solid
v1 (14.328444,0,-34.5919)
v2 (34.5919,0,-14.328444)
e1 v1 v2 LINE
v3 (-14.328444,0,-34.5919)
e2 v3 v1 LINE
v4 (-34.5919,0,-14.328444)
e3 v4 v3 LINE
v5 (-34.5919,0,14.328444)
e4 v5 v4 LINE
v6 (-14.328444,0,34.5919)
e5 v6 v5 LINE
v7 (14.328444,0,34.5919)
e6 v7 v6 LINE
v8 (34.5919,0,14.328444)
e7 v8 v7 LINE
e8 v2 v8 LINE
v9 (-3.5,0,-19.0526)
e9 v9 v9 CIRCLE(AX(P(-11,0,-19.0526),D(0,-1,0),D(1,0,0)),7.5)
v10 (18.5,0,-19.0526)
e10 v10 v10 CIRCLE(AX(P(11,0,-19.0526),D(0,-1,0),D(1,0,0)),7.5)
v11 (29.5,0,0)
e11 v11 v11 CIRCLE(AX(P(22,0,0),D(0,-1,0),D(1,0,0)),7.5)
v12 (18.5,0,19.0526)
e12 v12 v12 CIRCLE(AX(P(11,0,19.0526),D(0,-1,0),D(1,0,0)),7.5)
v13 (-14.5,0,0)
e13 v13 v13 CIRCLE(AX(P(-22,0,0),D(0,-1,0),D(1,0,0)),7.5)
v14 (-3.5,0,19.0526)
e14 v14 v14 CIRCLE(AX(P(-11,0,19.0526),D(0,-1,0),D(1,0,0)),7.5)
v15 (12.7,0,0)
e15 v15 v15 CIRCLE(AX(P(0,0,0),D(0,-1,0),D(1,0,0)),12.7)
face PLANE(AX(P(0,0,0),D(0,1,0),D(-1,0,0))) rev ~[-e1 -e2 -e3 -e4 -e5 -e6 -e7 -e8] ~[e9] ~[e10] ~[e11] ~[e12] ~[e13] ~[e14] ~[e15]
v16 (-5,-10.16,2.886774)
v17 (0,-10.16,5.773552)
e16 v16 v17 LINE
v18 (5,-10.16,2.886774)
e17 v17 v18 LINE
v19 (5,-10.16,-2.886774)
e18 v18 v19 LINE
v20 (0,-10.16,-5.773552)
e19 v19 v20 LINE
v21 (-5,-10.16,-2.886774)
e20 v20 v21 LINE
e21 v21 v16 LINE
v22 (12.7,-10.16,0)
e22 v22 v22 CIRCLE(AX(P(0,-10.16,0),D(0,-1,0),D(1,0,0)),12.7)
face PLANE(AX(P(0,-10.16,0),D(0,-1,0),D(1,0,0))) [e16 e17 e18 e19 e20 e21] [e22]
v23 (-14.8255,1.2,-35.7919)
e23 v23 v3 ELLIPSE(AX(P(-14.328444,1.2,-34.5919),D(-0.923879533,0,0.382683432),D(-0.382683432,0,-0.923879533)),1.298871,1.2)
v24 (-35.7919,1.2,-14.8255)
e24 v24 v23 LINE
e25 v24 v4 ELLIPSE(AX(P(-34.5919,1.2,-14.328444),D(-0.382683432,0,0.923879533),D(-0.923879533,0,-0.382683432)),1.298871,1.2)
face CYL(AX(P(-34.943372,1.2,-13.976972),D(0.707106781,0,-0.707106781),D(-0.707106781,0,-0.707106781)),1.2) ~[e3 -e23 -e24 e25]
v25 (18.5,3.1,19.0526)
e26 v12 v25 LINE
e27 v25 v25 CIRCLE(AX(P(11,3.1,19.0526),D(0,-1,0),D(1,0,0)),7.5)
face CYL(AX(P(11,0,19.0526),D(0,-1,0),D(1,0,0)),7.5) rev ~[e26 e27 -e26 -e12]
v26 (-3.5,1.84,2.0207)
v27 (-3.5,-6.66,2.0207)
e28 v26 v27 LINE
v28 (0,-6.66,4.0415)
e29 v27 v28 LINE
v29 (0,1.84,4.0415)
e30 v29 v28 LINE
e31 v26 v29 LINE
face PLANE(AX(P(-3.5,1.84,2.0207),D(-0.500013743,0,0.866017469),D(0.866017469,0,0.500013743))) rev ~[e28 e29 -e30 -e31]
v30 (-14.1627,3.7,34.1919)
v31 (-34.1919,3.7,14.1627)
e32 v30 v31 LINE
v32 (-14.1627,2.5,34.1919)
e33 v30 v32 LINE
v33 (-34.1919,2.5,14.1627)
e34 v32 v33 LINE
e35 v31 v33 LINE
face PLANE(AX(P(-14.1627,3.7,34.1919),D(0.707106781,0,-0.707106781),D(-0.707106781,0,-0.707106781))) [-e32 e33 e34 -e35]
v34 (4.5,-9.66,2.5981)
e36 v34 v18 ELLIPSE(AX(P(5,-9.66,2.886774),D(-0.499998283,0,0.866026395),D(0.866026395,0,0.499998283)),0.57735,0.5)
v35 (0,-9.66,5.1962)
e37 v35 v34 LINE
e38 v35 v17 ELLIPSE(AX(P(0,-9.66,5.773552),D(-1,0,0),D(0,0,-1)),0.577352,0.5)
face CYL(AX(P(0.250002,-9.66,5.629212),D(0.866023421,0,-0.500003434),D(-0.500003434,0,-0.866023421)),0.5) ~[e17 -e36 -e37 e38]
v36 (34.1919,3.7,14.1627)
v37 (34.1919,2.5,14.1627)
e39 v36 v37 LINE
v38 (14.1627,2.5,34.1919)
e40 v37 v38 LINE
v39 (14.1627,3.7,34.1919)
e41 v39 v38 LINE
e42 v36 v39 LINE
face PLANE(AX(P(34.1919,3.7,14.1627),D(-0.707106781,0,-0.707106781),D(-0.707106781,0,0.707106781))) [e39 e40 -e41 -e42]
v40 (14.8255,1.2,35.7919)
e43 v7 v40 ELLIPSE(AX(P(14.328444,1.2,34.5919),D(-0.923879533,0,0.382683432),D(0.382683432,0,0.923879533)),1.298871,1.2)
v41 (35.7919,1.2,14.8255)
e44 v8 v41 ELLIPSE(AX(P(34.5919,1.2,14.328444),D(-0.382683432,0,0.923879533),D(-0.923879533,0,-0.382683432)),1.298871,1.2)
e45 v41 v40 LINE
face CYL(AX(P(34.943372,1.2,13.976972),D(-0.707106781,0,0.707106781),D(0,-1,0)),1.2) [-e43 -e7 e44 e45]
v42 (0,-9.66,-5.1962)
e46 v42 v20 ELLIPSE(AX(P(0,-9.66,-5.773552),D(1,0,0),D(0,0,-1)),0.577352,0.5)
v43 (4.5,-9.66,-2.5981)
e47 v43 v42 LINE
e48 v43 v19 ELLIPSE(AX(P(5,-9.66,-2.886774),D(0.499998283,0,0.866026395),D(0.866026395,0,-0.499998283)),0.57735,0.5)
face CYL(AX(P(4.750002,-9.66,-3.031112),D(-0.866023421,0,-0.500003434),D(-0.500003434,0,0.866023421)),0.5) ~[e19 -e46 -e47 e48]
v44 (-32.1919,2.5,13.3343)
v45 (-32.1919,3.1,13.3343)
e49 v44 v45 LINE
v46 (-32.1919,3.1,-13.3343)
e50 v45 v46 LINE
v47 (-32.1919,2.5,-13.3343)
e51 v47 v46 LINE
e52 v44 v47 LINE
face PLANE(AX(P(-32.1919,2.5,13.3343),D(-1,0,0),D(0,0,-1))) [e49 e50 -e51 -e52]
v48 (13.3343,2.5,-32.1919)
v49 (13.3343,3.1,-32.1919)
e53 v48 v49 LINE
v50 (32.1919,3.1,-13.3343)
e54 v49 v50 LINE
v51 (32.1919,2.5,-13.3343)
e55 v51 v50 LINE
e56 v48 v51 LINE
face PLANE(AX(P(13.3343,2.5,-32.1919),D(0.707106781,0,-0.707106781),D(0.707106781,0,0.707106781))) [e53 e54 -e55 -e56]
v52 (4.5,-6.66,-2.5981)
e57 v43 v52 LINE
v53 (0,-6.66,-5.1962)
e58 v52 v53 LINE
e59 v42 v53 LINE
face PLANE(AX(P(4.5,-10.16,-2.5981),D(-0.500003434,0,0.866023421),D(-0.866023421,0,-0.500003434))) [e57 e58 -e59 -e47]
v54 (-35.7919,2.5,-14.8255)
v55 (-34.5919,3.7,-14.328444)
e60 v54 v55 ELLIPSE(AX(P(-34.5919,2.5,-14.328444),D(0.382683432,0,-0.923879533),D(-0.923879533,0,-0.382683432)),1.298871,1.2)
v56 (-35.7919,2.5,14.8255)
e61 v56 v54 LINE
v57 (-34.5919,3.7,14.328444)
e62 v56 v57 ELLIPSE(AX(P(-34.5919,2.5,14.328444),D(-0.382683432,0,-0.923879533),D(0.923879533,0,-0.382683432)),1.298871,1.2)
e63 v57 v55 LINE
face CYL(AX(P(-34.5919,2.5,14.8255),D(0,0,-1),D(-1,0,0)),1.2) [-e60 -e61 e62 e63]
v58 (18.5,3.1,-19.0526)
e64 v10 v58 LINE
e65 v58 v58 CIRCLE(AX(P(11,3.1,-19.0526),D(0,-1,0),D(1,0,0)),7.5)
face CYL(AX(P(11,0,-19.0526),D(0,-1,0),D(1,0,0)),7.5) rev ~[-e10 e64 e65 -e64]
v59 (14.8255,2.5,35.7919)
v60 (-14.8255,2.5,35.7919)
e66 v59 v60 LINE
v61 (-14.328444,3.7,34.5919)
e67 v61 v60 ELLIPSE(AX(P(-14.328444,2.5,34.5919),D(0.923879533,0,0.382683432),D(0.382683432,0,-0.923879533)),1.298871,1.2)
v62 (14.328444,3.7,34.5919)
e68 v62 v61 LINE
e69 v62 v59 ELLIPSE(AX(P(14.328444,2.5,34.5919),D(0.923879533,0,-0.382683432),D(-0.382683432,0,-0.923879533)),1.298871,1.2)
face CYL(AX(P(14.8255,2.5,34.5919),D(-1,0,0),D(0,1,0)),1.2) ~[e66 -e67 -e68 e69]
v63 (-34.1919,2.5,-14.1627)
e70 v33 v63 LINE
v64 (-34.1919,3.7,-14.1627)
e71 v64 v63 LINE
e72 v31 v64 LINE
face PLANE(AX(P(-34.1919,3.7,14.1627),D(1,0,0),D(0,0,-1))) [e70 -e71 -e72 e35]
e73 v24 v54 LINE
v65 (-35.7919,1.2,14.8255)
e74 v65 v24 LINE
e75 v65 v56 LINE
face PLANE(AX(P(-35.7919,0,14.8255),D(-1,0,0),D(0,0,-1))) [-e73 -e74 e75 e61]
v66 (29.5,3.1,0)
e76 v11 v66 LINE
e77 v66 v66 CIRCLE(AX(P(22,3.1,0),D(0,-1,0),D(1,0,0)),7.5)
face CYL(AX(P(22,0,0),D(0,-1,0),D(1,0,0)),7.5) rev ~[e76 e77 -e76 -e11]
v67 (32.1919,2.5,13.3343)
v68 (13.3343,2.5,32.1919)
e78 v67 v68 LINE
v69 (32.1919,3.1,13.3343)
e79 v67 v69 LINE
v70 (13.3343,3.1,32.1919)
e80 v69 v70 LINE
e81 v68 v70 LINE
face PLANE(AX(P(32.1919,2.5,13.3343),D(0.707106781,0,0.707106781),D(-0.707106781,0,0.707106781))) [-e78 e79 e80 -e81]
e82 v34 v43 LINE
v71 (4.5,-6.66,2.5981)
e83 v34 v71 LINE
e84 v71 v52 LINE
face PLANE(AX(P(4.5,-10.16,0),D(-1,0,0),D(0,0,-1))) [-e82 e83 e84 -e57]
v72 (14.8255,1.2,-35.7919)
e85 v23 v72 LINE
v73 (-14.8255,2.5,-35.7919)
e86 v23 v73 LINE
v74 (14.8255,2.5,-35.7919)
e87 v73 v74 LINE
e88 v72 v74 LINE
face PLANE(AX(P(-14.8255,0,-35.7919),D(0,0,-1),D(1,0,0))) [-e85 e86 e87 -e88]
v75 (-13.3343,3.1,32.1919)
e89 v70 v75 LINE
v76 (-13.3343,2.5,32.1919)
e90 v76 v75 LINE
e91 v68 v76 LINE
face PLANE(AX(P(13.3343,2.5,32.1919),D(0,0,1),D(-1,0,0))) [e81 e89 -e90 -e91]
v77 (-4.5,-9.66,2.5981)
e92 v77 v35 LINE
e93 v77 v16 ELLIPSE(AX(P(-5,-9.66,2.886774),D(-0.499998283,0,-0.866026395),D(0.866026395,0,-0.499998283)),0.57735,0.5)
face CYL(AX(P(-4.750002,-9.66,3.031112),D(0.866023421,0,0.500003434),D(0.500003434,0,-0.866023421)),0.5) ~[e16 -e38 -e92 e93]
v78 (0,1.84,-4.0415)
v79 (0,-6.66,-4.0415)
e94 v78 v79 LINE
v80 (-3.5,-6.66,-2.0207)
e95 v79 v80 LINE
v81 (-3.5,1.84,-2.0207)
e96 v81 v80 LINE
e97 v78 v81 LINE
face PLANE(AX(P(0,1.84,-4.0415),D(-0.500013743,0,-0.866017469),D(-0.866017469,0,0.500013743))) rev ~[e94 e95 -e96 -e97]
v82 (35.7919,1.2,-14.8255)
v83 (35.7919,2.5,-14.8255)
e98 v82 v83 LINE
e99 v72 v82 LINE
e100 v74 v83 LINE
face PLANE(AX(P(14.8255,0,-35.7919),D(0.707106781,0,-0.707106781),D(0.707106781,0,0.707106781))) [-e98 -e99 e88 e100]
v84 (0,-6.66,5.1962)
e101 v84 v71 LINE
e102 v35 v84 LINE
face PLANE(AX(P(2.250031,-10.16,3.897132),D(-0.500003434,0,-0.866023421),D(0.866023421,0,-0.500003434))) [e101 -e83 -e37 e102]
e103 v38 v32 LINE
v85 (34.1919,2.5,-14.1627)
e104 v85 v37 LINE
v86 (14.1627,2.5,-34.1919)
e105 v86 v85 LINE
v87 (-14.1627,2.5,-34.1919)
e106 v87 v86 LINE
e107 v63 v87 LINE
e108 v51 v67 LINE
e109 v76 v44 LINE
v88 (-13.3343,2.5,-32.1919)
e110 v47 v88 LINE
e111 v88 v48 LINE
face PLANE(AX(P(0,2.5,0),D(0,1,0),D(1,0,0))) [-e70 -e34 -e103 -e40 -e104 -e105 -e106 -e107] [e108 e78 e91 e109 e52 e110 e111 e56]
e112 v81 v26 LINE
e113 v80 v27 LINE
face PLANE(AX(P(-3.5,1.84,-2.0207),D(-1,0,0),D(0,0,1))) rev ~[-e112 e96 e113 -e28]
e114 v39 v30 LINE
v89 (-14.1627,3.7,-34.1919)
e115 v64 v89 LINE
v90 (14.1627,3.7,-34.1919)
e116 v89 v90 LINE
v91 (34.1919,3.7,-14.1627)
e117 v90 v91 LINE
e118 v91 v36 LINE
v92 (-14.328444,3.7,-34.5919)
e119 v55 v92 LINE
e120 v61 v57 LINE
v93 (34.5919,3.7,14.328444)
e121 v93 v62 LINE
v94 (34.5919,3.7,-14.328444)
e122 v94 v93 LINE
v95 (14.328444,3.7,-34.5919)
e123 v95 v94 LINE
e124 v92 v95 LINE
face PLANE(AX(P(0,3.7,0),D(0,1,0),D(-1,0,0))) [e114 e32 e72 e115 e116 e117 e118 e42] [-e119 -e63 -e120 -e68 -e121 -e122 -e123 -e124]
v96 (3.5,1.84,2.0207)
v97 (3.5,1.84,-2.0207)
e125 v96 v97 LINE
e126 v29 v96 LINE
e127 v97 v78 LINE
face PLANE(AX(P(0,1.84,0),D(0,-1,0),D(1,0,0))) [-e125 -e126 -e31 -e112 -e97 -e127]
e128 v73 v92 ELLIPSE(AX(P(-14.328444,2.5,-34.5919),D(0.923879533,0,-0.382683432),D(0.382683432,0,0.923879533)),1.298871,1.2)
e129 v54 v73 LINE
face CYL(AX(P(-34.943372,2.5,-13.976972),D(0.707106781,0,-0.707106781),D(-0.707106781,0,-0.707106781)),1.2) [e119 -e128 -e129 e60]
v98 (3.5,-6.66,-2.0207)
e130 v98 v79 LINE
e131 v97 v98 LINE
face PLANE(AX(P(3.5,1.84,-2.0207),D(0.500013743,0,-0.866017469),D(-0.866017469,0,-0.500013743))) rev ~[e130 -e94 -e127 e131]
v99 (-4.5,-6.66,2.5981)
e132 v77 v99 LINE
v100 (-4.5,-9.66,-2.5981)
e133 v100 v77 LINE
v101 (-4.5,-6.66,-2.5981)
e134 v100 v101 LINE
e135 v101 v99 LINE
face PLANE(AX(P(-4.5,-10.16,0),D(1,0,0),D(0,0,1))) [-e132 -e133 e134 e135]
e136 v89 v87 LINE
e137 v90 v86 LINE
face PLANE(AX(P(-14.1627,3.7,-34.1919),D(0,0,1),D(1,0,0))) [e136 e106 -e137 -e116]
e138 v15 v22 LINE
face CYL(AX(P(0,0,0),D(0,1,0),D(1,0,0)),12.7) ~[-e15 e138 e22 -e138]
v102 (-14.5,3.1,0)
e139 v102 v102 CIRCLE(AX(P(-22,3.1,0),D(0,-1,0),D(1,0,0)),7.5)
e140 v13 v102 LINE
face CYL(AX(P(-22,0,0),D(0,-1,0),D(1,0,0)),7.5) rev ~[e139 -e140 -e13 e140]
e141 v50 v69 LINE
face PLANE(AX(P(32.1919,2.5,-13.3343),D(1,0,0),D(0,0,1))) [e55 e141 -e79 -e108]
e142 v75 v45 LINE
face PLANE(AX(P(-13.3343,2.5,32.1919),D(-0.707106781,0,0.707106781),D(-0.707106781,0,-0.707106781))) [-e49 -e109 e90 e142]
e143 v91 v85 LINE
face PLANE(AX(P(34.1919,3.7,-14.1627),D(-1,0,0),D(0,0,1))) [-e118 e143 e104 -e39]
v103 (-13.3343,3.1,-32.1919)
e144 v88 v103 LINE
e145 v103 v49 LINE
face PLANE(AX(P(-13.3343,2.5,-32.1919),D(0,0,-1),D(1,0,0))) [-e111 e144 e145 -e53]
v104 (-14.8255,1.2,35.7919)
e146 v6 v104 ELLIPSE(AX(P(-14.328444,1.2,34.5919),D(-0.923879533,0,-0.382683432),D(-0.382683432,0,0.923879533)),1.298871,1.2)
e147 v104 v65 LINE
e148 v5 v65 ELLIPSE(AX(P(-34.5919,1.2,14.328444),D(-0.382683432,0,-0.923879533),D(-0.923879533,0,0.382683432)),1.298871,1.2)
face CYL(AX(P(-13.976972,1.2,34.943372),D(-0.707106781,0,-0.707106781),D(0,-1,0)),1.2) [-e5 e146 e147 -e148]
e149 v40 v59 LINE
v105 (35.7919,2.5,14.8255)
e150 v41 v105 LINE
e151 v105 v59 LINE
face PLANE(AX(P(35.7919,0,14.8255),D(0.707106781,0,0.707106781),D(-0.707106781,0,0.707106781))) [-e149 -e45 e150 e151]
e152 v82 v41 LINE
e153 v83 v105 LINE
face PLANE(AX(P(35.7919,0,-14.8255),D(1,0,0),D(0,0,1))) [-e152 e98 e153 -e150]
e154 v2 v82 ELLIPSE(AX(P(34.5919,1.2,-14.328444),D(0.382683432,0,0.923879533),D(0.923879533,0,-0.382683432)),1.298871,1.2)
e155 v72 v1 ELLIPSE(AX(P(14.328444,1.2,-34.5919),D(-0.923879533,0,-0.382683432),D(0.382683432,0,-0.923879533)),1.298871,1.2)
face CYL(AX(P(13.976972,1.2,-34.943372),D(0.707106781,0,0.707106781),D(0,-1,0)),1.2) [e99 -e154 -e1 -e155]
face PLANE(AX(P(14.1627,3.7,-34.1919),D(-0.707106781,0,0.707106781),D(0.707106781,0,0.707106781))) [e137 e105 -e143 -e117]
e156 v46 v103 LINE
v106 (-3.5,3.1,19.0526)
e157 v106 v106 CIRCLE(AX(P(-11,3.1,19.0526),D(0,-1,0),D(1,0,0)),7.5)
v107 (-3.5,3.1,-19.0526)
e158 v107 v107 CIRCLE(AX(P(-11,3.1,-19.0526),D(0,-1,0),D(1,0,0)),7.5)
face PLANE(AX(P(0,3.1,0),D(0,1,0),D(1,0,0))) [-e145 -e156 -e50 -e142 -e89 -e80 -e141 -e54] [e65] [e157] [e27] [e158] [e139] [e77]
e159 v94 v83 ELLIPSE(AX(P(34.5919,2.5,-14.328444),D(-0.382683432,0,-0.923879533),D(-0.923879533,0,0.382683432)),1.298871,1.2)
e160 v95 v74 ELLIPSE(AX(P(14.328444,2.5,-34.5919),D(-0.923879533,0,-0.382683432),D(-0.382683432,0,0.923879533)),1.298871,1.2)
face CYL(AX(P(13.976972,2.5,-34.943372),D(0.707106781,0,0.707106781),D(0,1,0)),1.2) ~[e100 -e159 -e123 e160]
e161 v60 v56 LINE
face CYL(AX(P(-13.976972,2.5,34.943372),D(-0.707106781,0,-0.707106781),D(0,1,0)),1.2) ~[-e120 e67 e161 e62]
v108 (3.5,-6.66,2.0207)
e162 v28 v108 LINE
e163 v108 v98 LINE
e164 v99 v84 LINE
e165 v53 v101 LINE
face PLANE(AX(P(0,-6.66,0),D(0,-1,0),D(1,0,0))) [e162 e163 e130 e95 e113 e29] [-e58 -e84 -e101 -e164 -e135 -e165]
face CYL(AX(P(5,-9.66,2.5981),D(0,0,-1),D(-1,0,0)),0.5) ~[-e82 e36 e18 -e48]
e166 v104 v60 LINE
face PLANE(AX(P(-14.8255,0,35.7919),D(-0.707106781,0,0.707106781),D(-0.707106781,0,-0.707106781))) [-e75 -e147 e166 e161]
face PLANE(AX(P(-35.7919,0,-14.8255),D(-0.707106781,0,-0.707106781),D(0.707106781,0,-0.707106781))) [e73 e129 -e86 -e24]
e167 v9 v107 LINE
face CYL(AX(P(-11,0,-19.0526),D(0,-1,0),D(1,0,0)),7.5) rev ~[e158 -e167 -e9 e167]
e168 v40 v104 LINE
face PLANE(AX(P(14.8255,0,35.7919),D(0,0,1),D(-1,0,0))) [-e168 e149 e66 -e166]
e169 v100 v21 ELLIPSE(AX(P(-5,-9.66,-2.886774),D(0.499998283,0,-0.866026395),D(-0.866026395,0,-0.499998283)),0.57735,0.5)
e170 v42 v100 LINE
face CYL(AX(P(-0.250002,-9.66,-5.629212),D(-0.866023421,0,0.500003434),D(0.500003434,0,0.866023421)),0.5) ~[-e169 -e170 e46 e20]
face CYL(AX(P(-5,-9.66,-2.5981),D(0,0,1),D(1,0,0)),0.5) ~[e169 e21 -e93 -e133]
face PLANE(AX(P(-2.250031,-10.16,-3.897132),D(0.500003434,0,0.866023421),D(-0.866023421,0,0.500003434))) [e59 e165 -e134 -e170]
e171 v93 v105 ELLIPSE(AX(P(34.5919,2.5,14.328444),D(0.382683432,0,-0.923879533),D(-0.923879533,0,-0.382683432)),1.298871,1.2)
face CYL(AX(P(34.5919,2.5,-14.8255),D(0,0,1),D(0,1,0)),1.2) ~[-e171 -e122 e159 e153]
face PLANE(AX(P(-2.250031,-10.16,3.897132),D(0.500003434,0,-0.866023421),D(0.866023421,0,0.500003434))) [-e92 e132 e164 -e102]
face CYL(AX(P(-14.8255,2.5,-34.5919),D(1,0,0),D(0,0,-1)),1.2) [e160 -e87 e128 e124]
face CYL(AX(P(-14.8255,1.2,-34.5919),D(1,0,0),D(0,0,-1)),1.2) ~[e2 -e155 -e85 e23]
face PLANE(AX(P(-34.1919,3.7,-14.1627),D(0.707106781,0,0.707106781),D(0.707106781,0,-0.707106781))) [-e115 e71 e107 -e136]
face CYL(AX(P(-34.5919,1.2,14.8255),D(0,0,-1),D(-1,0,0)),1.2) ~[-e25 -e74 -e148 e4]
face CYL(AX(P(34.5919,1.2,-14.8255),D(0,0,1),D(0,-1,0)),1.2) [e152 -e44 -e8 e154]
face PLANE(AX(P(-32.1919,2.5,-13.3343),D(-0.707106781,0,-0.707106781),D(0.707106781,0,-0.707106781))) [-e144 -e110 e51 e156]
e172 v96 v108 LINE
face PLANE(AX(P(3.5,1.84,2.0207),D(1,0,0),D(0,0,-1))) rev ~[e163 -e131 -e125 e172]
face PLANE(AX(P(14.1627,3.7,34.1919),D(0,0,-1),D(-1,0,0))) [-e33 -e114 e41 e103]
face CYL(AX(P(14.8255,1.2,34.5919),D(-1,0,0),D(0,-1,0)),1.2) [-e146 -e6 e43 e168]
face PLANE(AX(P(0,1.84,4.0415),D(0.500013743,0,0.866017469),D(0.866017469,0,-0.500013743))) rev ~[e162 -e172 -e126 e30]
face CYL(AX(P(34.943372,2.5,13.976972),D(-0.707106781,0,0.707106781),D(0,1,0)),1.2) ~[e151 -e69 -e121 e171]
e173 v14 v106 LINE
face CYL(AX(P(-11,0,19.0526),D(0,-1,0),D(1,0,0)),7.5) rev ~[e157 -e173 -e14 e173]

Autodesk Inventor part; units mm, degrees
ref_plane "YZ Plane" through (0, 0, 0) normal (1, 0, 0) x (0, 1, 0)
ref_plane "XZ Plane" through (0, 0, 0) normal (0, 1, 0) x (-1, 0, 0)
ref_plane "XY Plane" through (0, 0, 0) normal (0, 0, 1) x (1, 0, 0)
sketch "스케치3" plane through (0, 0, 0) normal (0, 1, 0) x (-1, 0, 0)
  line L0 (35.7919, -14.8255) -> (14.8255, -35.7919)
  line L1 (14.8255, -35.7919) -> (-14.8255, -35.7919)
  line L2 (-14.8255, -35.7919) -> (-35.7919, -14.8255)
  line L3 (-35.7919, -14.8255) -> (-35.7919, 14.8255)
  line L4 (-35.7919, 14.8255) -> (-14.8255, 35.7919)
  line L5 (-14.8255, 35.7919) -> (14.8255, 35.7919)
  line L6 (14.8255, 35.7919) -> (35.7919, 14.8255)
  line L7 (35.7919, 14.8255) -> (35.7919, -14.8255)
  line L8 (32.5919, -13.5) -> (13.5, -32.5919)
  line L9 (13.5, -32.5919) -> (-13.5, -32.5919)
  line L10 (-13.5, -32.5919) -> (-32.5919, -13.5)
  line L11 (-32.5919, -13.5) -> (-32.5919, 13.5)
  line L12 (-32.5919, 13.5) -> (-13.5, 32.5919)
  line L13 (-13.5, 32.5919) -> (13.5, 32.5919)
  line L14 (13.5, 32.5919) -> (32.5919, 13.5)
  line L15 (32.5919, 13.5) -> (32.5919, -13.5)
  point P0 (0, 0)
  point P1 (0, 0)
  point P2 (0, 0)
  point P3 (0, 0)
  dimension "d43" = 27
  dimension "d44" = 3.2
extrude "돌출2" add sketch "스케치3" along normal blind 3.7 contours L0 L1 L2 L3 L4 L5 L6 L7 | L8 L9 L10 L11 L12 L13 L14 L15
sketch "스케치4" plane through (0, 3.7, 0) normal (0, 1, 0) x (1, 0, 0)
  line L0 (13.5, -32.5919) -> (-13.5, -32.5919)
  line L1 (-13.5, -32.5919) -> (-32.5919, -13.5)
  line L2 (-32.5919, -13.5) -> (-32.5919, 13.5)
  line L3 (-32.5919, 13.5) -> (-13.5, 32.5919)
  line L4 (-13.5, 32.5919) -> (13.5, 32.5919)
  line L5 (13.5, 32.5919) -> (32.5919, 13.5)
  line L6 (32.5919, 13.5) -> (32.5919, -13.5)
  line L7 (32.5919, -13.5) -> (13.5, -32.5919)
  line L8 (-14.1627, 34.1919) -> (14.1627, 34.1919)
  line L9 (14.1627, 34.1919) -> (34.1919, 14.1627)
  line L10 (34.1919, 14.1627) -> (34.1919, -14.1627)
  line L11 (34.1919, -14.1627) -> (14.1627, -34.1919)
  line L12 (14.1627, -34.1919) -> (-14.1627, -34.1919)
  line L13 (-14.1627, -34.1919) -> (-34.1919, -14.1627)
  line L14 (-34.1919, -14.1627) -> (-34.1919, 14.1627)
  line L15 (-34.1919, 14.1627) -> (-14.1627, 34.1919)
  line L16 (-13.3343, 32.1919) -> (13.3343, 32.1919)
  line L17 (13.3343, 32.1919) -> (32.1919, 13.3343)
  line L18 (32.1919, 13.3343) -> (32.1919, -13.3343)
  line L19 (32.1919, -13.3343) -> (13.3343, -32.1919)
  line L20 (13.3343, -32.1919) -> (-13.3343, -32.1919)
  line L21 (-13.3343, -32.1919) -> (-32.1919, -13.3343)
  line L22 (-32.1919, -13.3343) -> (-32.1919, 13.3343)
  line L23 (-32.1919, 13.3343) -> (-13.3343, 32.1919)
  line L24 (-35.7919, 14.8255) -> (-35.7919, -14.8255) projected
  point P0 (0, 0)
  point P1 (0, 0)
  point P2 (0, 0)
  point P3 (0, 0)
  dimension "d7" = 27
  dimension "d60" = 1.6
  dimension "d61" = 2
extrude "돌출3" cut sketch "스케치4" against normal blind 1.2 contours L0 L1 L2 L3 L4 L5 L6 L7 | L8 L9 L10 L11 L12 L13 L14 L15 | L16 L17 L18 L19 L20 L21 L22 L23
sketch "스케치9" plane through (0, 2.5, 0) normal (0, 1, 0) x (1, 0, 0)
  line L0 (-13.3343, 32.1919) -> (13.3343, 32.1919)
  line L1 (13.3343, 32.1919) -> (32.1919, 13.3343)
  line L2 (32.1919, 13.3343) -> (32.1919, -13.3343)
  line L3 (32.1919, -13.3343) -> (13.3343, -32.1919)
  line L4 (13.3343, -32.1919) -> (-13.3343, -32.1919)
  line L5 (-13.3343, -32.1919) -> (-32.1919, -13.3343)
  line L6 (-32.1919, -13.3343) -> (-32.1919, 13.3343)
  line L7 (-32.1919, 13.3343) -> (-13.3343, 32.1919)
  line L8 (-14.1627, 34.1919) -> (14.1627, 34.1919) projected
  line L9 (-12.0917, 29.1919) -> (12.0917, 29.1919)
  line L10 (12.0917, 29.1919) -> (29.1919, 12.0917)
  line L11 (29.1919, 12.0917) -> (29.1919, -12.0917)
  line L12 (29.1919, -12.0917) -> (12.0917, -29.1919)
  line L13 (12.0917, -29.1919) -> (-12.0917, -29.1919)
  line L14 (-12.0917, -29.1919) -> (-29.1919, -12.0917)
  line L15 (-29.1919, -12.0917) -> (-29.1919, 12.0917)
  line L16 (-29.1919, 12.0917) -> (-12.0917, 29.1919)
  point P0 (0, 0)
  point P1 (0, 0)
  point P2 (0, 0)
  dimension "d46" = 2
  dimension "d47" = 3
extrude "돌출8" add sketch "스케치9" along normal blind 0.6 contours L0 L1 L2 L3 L4 L5 L6 L7 | L9 L10 L11 L12 L13 L14 L15 L16
fillet "모깎기1" radius 1.2 16 edges at (-35.7919, 3.7, 0) (-25.3087, 3.7, 25.3087) (0, 3.7, 35.7919) (25.3087, 3.7, 25.3087) (35.7919, 3.7, 0) (25.3087, 3.7, -25.3087) (0, 3.7, -35.7919) (-25.3087, 3.7, -25.3087) (25.3087, 0, 25.3087) (0, 0, 35.7919) (-25.3087, 0, 25.3087) (-35.7919, 0, 0) (-25.3087, 0, -25.3087) (0, 0, -35.7919) (25.3087, 0, -25.3087) (35.7919, 0, 0)
sketch "스케치11" plane through (0, 0, 0) normal (0, -1, 0) x (1, 0, 0)
  circle A0 centre (0, 0) radius 12.7
  dimension "d62" = 25.4
extrude "돌출11" add sketch "스케치11" along normal blind 10.16
sketch "스케치12" plane through (0, -10.16, 0) normal (0, -1, 0) x (1, 0, 0)
  circle A0 centre (0, 0) radius 4.5
  line L0 (4.5, 2.5981) -> (4.5, -2.5981)
  line L1 (4.5, -2.5981) -> (0, -5.1962)
  line L2 (0, -5.1962) -> (-4.5, -2.5981)
  line L3 (-4.5, -2.5981) -> (-4.5, 2.5981)
  line L4 (-4.5, 2.5981) -> (0, 5.1962)
  line L5 (0, 5.1962) -> (4.5, 2.5981)
  point P0 (2.25, 3.8971)
  point P1 (-2.25, 3.8971)
  point P2 (4.5, 0)
  point P3 (-4.5, 0)
  point P4 (-2.25, -3.8971)
  point P5 (2.25, -3.8971)
  dimension "d65" = 9
extrude "돌출12" cut sketch "스케치12" against normal blind 12
sketch "스케치13" plane through (0, 0, 0) normal (0, -1, 0) x (1, 0, 0)
  circle A0 centre (-22, 0) radius 7.5
  circle A1 centre (-11, -19.0526) radius 7.5
  circle A2 centre (11, -19.0526) radius 7.5
  circle A3 centre (22, 0) radius 7.5
  circle A4 centre (11, 19.0526) radius 7.5
  circle A5 centre (-11, 19.0526) radius 7.5
  point P0 (0, 0)
  dimension "d70" = 15
  dimension "d71" = 22
  dimension "d74" = 360
extrude "돌출13" cut sketch "스케치13" against normal up to surface (3.1 mm away)
sketch "스케치18" plane through (0, 1.84, 0) normal (0, -1, 0) x (1, 0, 0)
  line L0 (4.5, 2.5981) -> (4.5, -2.5981) projected
  line L1 (0, 5.1962) -> (4.5, 2.5981) projected
  line L2 (-4.5, 2.5981) -> (0, 5.1962) projected
  line L3 (-4.5, -2.5981) -> (-4.5, 2.5981) projected
  line L4 (0, -5.1962) -> (-4.5, -2.5981) projected
  line L5 (4.5, -2.5981) -> (0, -5.1962) projected
  line L6 (3.5, 2.0207) -> (3.5, -2.0207)
  line L7 (3.5, -2.0207) -> (0, -4.0415)
  line L8 (0, -4.0415) -> (-3.5, -2.0207)
  line L9 (-3.5, -2.0207) -> (-3.5, 2.0207)
  line L10 (-3.5, 2.0207) -> (0, 4.0415)
  line L11 (0, 4.0415) -> (3.5, 2.0207)
  point P0 (0, 0)
  point P1 (0, 0)
  dimension "d116" = 1
extrude "돌출14" add sketch "스케치18" along normal blind 8.5
fillet "모깎기2" radius 0.5 6 edges at (2.25, -10.16, 3.8971) (-2.25, -10.16, 3.8971) (4.5, -10.16, 0) (2.25, -10.16, -3.8971) (-2.25, -10.16, -3.8971) (-4.5, -10.16, 0)
equation "\"d85\" = 55deg"
equation "\"d105\" = 55deg"
properties part number "OV-PAM_top_2"
